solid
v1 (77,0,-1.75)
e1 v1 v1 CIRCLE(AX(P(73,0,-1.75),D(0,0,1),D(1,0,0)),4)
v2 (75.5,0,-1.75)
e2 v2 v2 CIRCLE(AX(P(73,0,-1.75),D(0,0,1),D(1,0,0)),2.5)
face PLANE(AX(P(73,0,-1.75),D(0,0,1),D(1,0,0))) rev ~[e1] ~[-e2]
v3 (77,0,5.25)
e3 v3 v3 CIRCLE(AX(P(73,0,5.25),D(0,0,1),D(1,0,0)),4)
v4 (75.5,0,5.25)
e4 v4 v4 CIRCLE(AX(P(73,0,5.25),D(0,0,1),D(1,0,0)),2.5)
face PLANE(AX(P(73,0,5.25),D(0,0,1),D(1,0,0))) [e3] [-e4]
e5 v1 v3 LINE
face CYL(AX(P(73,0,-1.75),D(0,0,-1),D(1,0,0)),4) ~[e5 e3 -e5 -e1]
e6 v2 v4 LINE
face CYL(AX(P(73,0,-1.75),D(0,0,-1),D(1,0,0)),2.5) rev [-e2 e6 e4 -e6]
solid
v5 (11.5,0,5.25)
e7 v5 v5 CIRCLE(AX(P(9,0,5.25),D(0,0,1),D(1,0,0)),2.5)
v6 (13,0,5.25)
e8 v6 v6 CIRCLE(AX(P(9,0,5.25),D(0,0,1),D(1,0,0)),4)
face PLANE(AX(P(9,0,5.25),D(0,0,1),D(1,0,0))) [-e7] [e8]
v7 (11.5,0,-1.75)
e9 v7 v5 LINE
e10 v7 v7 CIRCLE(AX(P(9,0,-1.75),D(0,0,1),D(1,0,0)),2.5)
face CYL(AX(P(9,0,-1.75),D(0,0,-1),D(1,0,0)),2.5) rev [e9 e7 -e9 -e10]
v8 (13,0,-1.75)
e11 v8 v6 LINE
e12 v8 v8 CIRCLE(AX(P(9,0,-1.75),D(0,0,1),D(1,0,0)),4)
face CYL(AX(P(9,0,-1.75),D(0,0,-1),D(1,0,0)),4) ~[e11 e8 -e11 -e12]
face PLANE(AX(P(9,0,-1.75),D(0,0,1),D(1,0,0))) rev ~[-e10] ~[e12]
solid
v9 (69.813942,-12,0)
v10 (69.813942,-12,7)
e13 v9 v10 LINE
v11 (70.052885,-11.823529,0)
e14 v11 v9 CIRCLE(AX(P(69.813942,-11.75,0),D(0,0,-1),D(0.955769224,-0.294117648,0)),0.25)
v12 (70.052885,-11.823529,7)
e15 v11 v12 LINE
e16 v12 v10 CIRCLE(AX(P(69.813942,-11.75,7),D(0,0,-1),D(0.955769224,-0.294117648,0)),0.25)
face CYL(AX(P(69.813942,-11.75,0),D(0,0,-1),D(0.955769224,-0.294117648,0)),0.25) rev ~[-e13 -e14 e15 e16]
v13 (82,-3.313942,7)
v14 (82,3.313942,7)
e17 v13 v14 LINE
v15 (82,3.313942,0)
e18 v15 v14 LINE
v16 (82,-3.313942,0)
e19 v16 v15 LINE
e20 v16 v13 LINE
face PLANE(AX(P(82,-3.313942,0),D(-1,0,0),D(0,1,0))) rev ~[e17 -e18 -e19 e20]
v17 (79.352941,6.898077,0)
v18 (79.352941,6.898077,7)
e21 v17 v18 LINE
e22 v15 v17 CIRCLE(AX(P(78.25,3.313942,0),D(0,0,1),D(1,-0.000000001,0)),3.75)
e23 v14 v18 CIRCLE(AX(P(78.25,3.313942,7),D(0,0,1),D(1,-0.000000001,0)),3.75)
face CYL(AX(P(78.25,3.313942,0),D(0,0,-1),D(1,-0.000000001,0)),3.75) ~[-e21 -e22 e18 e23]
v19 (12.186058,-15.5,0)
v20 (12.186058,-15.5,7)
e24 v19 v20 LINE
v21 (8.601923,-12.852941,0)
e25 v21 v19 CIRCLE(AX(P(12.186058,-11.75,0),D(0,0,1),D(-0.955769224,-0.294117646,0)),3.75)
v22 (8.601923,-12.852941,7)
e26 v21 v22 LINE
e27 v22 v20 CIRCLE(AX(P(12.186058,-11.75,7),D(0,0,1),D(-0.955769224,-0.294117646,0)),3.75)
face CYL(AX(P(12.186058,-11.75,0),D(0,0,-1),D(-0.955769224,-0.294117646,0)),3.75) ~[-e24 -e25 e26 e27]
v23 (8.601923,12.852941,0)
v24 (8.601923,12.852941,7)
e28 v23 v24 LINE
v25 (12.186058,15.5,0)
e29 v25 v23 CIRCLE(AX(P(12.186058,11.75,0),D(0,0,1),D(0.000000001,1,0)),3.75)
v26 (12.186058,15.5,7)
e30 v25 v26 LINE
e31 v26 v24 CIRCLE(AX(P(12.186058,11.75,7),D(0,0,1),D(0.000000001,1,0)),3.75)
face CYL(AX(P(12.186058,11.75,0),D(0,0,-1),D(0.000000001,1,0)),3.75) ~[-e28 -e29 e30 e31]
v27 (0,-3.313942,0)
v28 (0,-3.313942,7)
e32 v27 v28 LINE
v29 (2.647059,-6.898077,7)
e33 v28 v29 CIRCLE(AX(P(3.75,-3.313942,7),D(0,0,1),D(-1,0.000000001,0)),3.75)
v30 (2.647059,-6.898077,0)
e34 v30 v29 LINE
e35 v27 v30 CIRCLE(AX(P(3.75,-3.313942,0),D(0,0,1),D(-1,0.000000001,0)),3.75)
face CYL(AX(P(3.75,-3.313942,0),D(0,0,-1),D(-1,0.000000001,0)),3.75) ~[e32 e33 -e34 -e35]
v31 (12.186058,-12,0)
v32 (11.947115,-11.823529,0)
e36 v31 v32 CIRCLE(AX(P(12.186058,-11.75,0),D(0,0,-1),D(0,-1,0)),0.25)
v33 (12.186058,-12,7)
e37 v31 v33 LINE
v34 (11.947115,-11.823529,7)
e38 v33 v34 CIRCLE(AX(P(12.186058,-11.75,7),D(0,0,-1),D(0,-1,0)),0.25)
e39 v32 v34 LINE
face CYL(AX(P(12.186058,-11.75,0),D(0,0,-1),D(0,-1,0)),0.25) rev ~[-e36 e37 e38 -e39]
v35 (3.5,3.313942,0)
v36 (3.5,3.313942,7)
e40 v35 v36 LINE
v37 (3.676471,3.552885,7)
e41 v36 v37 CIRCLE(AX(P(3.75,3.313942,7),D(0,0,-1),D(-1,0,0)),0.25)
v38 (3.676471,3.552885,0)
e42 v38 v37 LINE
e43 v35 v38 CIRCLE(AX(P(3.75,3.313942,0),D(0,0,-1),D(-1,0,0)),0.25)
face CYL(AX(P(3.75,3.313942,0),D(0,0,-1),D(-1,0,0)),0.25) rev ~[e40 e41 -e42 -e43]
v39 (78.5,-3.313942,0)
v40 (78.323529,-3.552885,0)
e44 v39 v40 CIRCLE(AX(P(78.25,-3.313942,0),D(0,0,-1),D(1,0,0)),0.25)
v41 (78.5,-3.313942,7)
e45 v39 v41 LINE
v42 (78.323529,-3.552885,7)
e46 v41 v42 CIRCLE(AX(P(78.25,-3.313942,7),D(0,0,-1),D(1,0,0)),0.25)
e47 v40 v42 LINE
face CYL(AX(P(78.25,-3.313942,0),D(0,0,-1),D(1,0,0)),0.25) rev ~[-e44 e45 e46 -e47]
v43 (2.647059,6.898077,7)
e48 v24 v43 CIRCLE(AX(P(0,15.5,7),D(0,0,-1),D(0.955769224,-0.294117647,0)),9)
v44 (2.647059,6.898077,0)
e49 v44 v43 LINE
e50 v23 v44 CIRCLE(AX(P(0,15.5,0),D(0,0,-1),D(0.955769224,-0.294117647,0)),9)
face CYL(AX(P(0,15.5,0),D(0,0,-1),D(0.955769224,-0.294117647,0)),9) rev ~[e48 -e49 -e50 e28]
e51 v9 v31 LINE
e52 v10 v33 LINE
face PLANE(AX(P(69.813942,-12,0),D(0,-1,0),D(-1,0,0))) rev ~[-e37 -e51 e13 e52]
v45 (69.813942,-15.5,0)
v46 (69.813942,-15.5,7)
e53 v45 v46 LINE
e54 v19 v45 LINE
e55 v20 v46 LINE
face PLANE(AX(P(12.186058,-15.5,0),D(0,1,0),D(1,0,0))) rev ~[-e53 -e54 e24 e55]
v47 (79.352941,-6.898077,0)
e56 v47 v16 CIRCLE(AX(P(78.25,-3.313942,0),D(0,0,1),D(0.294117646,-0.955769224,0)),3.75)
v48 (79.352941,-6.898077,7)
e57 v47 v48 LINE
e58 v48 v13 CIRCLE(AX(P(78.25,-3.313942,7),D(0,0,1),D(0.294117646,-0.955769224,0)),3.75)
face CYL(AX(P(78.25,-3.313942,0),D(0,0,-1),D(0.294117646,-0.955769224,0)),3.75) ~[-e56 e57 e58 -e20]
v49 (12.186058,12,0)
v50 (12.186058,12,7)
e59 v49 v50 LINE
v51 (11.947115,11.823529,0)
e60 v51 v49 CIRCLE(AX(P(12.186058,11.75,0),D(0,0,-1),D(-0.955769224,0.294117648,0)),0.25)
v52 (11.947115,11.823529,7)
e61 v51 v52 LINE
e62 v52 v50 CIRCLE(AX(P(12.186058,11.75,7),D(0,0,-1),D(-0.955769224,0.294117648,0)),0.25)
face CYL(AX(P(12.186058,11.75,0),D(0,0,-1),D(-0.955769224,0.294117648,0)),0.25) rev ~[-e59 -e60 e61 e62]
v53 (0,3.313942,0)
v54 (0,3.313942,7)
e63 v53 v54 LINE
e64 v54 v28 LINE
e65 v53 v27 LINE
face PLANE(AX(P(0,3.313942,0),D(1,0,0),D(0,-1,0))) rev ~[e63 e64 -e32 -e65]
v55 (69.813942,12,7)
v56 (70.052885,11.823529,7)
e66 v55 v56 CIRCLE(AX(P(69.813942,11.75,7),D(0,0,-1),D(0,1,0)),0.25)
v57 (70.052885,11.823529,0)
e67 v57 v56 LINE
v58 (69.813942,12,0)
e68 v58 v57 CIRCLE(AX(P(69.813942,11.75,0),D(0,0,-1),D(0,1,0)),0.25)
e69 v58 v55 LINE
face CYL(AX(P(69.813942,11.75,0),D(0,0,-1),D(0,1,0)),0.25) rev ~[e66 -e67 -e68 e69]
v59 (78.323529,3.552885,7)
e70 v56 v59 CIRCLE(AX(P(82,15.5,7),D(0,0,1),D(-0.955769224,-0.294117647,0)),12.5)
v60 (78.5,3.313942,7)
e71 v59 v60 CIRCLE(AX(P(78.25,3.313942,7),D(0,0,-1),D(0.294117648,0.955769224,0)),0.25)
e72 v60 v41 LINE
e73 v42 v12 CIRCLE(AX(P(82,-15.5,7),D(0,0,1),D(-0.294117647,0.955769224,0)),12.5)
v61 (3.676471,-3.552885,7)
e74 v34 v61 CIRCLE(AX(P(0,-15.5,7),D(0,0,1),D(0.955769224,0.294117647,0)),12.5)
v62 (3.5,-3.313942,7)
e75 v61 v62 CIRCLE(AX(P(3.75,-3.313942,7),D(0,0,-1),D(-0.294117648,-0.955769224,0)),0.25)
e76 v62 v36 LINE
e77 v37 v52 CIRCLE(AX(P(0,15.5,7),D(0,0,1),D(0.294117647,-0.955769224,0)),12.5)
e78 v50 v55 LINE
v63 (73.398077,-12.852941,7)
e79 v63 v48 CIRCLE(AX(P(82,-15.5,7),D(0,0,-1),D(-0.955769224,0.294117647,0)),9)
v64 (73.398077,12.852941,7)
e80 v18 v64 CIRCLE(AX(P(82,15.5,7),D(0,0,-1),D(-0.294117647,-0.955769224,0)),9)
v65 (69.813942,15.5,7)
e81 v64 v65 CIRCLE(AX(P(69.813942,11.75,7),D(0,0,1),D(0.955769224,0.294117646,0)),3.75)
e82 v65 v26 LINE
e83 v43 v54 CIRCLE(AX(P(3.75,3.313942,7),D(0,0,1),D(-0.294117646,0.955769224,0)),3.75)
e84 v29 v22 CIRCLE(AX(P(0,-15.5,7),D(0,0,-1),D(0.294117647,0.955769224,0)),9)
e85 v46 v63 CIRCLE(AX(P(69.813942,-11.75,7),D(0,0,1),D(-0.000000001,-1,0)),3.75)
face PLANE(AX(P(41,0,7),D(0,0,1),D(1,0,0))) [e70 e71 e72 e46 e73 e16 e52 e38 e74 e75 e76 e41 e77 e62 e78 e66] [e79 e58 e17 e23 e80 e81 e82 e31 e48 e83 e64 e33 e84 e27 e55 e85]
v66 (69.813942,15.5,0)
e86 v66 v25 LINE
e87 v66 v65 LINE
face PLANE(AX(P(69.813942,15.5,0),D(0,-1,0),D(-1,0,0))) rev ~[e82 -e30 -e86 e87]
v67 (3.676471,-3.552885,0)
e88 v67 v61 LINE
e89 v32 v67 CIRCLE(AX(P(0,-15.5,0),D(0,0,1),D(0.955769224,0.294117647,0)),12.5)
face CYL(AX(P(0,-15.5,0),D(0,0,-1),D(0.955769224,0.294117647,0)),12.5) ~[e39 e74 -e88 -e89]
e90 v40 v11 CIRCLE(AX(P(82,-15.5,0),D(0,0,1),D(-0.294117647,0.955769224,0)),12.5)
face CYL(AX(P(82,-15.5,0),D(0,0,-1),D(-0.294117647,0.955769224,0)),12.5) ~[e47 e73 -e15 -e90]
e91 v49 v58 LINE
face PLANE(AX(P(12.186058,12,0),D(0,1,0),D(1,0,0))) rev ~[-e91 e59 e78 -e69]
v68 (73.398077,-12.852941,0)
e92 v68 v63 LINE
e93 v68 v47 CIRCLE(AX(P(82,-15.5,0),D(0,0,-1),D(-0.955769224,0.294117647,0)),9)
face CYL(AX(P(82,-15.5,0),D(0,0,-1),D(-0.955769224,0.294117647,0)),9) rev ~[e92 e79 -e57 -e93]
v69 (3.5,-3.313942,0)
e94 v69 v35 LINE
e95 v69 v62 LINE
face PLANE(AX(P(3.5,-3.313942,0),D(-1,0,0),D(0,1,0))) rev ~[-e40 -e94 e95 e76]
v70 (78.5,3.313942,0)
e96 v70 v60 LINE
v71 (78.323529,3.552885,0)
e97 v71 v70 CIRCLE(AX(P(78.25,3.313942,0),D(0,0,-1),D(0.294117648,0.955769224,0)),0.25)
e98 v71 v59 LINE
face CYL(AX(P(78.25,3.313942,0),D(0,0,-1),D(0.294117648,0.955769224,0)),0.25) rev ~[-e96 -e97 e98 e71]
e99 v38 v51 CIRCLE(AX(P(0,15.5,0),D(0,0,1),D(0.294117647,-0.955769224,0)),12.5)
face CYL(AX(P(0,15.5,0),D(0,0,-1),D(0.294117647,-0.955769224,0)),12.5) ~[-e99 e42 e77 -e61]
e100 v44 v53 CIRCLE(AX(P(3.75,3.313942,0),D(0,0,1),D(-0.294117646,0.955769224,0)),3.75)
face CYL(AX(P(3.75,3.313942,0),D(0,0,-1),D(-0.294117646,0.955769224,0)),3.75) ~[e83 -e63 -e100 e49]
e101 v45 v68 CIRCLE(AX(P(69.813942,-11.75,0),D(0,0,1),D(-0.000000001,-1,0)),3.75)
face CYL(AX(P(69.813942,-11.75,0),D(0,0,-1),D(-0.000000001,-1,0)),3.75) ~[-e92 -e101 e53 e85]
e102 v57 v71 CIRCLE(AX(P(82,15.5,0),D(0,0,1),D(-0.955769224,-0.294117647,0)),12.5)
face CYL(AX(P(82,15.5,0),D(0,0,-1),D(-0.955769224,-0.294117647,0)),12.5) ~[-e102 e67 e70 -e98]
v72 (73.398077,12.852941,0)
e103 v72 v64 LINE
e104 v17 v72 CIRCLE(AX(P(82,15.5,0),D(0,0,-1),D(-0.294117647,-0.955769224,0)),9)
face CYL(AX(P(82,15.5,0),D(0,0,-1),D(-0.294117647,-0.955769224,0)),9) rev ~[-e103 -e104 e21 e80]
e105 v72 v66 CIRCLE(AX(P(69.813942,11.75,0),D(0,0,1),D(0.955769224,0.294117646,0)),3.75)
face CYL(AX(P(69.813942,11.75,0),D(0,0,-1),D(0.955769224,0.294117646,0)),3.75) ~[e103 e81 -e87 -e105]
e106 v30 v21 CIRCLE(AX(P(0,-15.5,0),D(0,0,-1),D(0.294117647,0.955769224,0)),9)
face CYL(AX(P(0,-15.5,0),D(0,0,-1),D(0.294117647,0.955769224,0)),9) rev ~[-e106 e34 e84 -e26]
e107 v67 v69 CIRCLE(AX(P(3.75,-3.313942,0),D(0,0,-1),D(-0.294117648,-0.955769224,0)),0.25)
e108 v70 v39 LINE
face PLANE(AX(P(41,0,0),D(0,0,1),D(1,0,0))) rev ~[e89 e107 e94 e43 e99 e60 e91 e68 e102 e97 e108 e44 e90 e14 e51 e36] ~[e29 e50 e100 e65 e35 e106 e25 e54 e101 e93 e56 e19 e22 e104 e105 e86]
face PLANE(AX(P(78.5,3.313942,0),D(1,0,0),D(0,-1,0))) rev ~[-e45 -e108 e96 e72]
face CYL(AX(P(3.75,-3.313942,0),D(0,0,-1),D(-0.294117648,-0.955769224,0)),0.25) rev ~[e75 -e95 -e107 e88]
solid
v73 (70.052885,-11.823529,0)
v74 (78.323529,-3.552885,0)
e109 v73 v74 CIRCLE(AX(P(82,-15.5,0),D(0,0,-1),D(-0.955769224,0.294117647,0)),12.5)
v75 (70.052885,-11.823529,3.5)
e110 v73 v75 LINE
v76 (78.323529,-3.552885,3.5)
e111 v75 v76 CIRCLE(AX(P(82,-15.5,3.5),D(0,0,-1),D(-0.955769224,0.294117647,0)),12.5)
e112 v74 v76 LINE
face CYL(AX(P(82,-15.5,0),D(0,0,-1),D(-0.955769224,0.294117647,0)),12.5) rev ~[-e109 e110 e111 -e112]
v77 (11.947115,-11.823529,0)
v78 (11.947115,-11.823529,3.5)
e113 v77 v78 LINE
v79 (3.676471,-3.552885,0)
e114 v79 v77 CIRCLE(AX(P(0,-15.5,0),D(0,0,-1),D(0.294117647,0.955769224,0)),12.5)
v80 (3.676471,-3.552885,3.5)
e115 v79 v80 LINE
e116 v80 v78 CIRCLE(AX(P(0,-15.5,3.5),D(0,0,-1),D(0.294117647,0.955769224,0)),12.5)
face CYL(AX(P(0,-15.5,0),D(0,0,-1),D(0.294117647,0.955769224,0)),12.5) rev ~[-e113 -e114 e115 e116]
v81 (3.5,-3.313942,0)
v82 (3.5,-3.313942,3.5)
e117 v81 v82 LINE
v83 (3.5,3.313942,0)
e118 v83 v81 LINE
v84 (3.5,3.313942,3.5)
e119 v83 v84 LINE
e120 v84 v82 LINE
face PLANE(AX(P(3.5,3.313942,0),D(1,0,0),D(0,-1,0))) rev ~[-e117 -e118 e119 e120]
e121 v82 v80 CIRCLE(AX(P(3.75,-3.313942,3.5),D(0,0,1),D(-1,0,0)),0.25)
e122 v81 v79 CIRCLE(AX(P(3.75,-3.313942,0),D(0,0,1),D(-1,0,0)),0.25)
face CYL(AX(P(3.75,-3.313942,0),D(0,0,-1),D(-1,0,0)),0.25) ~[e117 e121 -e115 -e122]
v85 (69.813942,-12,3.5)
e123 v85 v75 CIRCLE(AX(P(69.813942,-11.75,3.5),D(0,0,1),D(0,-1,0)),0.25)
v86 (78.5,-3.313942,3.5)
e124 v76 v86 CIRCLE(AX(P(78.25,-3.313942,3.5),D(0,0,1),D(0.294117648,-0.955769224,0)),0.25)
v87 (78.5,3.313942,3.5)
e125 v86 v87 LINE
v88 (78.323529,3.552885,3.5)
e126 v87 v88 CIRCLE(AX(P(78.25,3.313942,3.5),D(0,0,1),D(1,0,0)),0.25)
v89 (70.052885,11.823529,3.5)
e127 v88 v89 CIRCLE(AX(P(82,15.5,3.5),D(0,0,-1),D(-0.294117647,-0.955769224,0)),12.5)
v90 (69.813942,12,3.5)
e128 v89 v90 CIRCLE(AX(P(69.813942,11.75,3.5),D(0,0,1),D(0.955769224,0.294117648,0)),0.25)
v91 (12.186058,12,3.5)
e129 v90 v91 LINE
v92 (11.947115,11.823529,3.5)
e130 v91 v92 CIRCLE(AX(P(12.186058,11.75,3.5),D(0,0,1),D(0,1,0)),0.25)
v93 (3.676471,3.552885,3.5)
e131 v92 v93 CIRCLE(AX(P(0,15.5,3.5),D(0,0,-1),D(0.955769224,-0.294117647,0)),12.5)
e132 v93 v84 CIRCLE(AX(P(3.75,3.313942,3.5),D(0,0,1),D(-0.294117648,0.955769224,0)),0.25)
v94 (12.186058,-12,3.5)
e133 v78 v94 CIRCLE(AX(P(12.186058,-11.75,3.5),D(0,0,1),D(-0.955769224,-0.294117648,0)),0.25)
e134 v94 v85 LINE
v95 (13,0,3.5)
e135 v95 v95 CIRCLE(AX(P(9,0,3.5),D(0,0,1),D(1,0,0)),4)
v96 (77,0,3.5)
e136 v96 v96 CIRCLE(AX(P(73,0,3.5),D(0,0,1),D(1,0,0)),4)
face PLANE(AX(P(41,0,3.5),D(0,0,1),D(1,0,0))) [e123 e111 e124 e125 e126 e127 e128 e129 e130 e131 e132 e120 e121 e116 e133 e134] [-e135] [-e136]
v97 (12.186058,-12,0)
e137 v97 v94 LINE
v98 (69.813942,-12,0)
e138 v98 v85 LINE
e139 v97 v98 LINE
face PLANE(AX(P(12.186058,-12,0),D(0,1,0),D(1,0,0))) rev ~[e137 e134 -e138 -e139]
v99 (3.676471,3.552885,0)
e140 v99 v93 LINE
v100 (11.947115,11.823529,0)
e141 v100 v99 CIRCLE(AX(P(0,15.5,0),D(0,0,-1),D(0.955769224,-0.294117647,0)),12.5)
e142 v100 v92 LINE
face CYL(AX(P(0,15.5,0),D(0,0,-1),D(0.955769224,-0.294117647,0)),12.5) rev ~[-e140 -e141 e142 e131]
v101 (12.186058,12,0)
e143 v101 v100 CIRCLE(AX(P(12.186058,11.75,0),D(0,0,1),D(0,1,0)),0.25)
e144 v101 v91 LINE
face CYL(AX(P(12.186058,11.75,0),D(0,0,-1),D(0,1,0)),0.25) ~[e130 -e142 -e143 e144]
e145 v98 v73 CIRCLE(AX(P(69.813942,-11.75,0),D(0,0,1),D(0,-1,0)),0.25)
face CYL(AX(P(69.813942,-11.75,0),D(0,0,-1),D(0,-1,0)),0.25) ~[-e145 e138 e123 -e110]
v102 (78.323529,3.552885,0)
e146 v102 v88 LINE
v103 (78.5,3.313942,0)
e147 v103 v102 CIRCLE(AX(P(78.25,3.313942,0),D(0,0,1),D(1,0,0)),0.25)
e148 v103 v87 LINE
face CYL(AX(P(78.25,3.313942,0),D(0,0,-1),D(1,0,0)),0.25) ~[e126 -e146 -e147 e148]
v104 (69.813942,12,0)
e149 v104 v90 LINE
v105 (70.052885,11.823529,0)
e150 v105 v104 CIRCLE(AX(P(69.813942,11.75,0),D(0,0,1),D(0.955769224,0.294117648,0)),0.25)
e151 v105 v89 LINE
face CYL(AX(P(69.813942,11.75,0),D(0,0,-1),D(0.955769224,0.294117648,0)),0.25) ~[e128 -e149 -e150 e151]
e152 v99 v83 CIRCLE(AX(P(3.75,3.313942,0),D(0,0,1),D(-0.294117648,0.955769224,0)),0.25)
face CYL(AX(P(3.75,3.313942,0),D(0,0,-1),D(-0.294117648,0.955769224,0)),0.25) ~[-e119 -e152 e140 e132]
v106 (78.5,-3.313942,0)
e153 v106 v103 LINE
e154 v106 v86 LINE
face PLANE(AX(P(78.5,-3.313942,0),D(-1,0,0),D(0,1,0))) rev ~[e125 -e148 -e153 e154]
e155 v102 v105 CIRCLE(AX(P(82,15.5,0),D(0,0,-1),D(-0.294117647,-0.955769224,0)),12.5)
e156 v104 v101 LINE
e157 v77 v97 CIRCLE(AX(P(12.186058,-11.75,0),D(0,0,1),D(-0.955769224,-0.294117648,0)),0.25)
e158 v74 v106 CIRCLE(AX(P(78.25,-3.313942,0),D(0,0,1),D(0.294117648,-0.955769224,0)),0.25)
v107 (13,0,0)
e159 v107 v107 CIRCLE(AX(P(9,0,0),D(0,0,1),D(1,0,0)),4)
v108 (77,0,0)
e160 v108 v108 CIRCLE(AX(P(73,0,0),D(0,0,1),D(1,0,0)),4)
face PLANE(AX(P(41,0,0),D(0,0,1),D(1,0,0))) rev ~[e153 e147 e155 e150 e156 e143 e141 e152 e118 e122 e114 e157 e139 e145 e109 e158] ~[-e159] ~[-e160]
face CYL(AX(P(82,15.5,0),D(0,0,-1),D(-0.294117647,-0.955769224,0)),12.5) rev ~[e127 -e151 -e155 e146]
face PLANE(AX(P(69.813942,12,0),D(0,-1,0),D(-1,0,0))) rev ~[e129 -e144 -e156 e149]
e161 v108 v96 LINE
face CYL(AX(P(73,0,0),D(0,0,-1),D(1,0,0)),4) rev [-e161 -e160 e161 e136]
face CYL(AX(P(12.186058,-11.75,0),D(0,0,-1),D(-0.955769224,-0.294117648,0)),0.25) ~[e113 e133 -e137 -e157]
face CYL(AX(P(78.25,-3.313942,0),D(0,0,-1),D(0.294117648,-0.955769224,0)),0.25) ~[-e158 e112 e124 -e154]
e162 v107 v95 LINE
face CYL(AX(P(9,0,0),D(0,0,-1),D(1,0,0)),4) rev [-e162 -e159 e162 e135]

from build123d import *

# Parameters (mm, degrees)
BOSS_EXTRUDE3_DEPTH        = 5.25
BOSS_EXTRUDE3_DEPTH_BACK   = 1.75
SKETCH8_R                  = 4
SKETCH8_R_2                = 2.5
BOSS_EXTRUDE3_2_DEPTH      = 5.25
BOSS_EXTRUDE3_2_DEPTH_BACK = 1.75
SKETCH8_4_R                = 4
BOSS_EXTRUDE4_DEPTH        = 3.5
BOSS_EXTRUDE5_DEPTH        = 7


with BuildPart() as part:
    # Sketch8 → Boss-Extrude3 (new, two sides: drawn at the far end of the back side and taken through both)
    with BuildSketch(Plane.XY.offset(-BOSS_EXTRUDE3_DEPTH_BACK)):
        with Locations((9, 0)):
            Circle(SKETCH8_R)
        with Locations((9, 0)):
            Circle(SKETCH8_R_2, mode=Mode.SUBTRACT)
    extrude(amount=BOSS_EXTRUDE3_DEPTH + BOSS_EXTRUDE3_DEPTH_BACK)


with BuildPart() as body_2:
    # Sketch8 → Boss-Extrude3 2 (new, two sides: drawn at the far end of the back side and taken through both)
    with BuildSketch(Plane.XY.offset(-BOSS_EXTRUDE3_2_DEPTH_BACK)):
        with Locations((73, 0)):
            Circle(SKETCH8_R)
        with Locations((73, 0)):
            Circle(SKETCH8_R_2, mode=Mode.SUBTRACT)
    extrude(amount=BOSS_EXTRUDE3_2_DEPTH + BOSS_EXTRUDE3_2_DEPTH_BACK)


with BuildPart() as body_3:
    # Sketch8<4> → Boss-Extrude4 (new body)
    with BuildSketch(Plane.XY):
        with BuildLine():
            Line((3.5, 3.313942393), (3.5, -3.313942393))
            ThreePointArc((3.5, -3.313942393), (3.548900083, -3.462464524), (3.676470588, -3.552884699))
            ThreePointArc((3.676470588, -3.552884699), (8.838834765, -6.661165235), (11.947115301, -11.823529412))
            ThreePointArc((11.947115301, -11.823529412), (12.037535476, -11.951099917), (12.186057607, -12))
            Line((12.186057607, -12), (69.813942393, -12))
            ThreePointArc((69.813942393, -12), (69.962464524, -11.951099917), (70.052884699, -11.823529412))
            ThreePointArc((70.052884699, -11.823529412), (73.161165235, -6.661165235), (78.323529412, -3.552884699))
            ThreePointArc((78.323529412, -3.552884699), (78.451099917, -3.462464524), (78.5, -3.313942393))
            Line((78.5, -3.313942393), (78.5, 3.313942393))
            ThreePointArc((78.5, 3.313942393), (78.451099917, 3.462464524), (78.323529412, 3.552884699))
            ThreePointArc((78.323529412, 3.552884699), (73.161165235, 6.661165235), (70.052884699, 11.823529412))
            ThreePointArc((70.052884699, 11.823529412), (69.962464524, 11.951099917), (69.813942393, 12))
            Line((69.813942393, 12), (12.186057607, 12))
            ThreePointArc((12.186057607, 12), (12.037535476, 11.951099917), (11.947115301, 11.823529412))
            ThreePointArc((11.947115301, 11.823529412), (8.838834765, 6.661165235), (3.676470588, 3.552884699))
            ThreePointArc((3.676470588, 3.552884699), (3.548900083, 3.462464524), (3.5, 3.313942393))
        make_face()
        with Locations((9, 0)):
            Circle(SKETCH8_4_R, mode=Mode.SUBTRACT)
        with Locations((73, 0)):
            Circle(SKETCH8_4_R, mode=Mode.SUBTRACT)
    extrude(amount=BOSS_EXTRUDE4_DEPTH)


with BuildPart() as body_4:
    # Sketch8<6> → Boss-Extrude5 (new body)
    with BuildSketch(Plane.XY):
        with BuildLine():
            ThreePointArc((0, -3.313942393), (0.73350125, -5.541774365), (2.647058824, -6.898076983))
            ThreePointArc((2.647058824, -6.898076983), (6.363961031, -9.136038969), (8.601923017, -12.852941176))
            ThreePointArc((8.601923017, -12.852941176), (9.958225635, -14.76649875), (12.186057607, -15.5))
            Line((12.186057607, -15.5), (69.813942393, -15.5))
            ThreePointArc((69.813942393, -15.5), (72.041774365, -14.76649875), (73.398076983, -12.852941176))
            ThreePointArc((73.398076983, -12.852941176), (75.636038969, -9.136038969), (79.352941176, -6.898076983))
            ThreePointArc((79.352941176, -6.898076983), (81.26649875, -5.541774365), (82, -3.313942393))
            Line((82, -3.313942393), (82, 3.313942393))
            ThreePointArc((82, 3.313942393), (81.26649875, 5.541774365), (79.352941176, 6.898076983))
            ThreePointArc((79.352941176, 6.898076983), (75.636038969, 9.136038969), (73.398076983, 12.852941176))
            ThreePointArc((73.398076983, 12.852941176), (72.041774365, 14.76649875), (69.813942393, 15.5))
            Line((69.813942393, 15.5), (12.186057607, 15.5))
            ThreePointArc((12.186057607, 15.5), (9.958225635, 14.76649875), (8.601923017, 12.852941176))
            ThreePointArc((8.601923017, 12.852941176), (6.363961031, 9.136038969), (2.647058824, 6.898076983))
            ThreePointArc((2.647058824, 6.898076983), (0.73350125, 5.541774365), (0, 3.313942393))
            Line((0, 3.313942393), (0, -3.313942393))
        make_face()
        with BuildLine():
            Line((3.5, -3.313942393), (3.5, 3.313942393))
            ThreePointArc((3.5, 3.313942393), (3.548900083, 3.462464524), (3.676470588, 3.552884699))
            ThreePointArc((3.676470588, 3.552884699), (8.838834765, 6.661165235), (11.947115301, 11.823529412))
            ThreePointArc((11.947115301, 11.823529412), (12.037535476, 11.951099917), (12.186057607, 12))
            Line((12.186057607, 12), (69.813942393, 12))
            ThreePointArc((69.813942393, 12), (69.962464524, 11.951099917), (70.052884699, 11.823529412))
            ThreePointArc((70.052884699, 11.823529412), (73.161165235, 6.661165235), (78.323529412, 3.552884699))
            ThreePointArc((78.323529412, 3.552884699), (78.451099917, 3.462464524), (78.5, 3.313942393))
            Line((78.5, 3.313942393), (78.5, -3.313942393))
            ThreePointArc((78.5, -3.313942393), (78.451099917, -3.462464524), (78.323529412, -3.552884699))
            ThreePointArc((78.323529412, -3.552884699), (73.161165235, -6.661165235), (70.052884699, -11.823529412))
            ThreePointArc((70.052884699, -11.823529412), (69.962464524, -11.951099917), (69.813942393, -12))
            Line((69.813942393, -12), (12.186057607, -12))
            ThreePointArc((12.186057607, -12), (12.037535476, -11.951099917), (11.947115301, -11.823529412))
            ThreePointArc((11.947115301, -11.823529412), (8.838834765, -6.661165235), (3.676470588, -3.552884699))
            ThreePointArc((3.676470588, -3.552884699), (3.548900083, -3.462464524), (3.5, -3.313942393))
        make_face(mode=Mode.SUBTRACT)
    extrude(amount=BOSS_EXTRUDE5_DEPTH)


solid = Compound([part.part, body_2.part, body_3.part, body_4.part])
